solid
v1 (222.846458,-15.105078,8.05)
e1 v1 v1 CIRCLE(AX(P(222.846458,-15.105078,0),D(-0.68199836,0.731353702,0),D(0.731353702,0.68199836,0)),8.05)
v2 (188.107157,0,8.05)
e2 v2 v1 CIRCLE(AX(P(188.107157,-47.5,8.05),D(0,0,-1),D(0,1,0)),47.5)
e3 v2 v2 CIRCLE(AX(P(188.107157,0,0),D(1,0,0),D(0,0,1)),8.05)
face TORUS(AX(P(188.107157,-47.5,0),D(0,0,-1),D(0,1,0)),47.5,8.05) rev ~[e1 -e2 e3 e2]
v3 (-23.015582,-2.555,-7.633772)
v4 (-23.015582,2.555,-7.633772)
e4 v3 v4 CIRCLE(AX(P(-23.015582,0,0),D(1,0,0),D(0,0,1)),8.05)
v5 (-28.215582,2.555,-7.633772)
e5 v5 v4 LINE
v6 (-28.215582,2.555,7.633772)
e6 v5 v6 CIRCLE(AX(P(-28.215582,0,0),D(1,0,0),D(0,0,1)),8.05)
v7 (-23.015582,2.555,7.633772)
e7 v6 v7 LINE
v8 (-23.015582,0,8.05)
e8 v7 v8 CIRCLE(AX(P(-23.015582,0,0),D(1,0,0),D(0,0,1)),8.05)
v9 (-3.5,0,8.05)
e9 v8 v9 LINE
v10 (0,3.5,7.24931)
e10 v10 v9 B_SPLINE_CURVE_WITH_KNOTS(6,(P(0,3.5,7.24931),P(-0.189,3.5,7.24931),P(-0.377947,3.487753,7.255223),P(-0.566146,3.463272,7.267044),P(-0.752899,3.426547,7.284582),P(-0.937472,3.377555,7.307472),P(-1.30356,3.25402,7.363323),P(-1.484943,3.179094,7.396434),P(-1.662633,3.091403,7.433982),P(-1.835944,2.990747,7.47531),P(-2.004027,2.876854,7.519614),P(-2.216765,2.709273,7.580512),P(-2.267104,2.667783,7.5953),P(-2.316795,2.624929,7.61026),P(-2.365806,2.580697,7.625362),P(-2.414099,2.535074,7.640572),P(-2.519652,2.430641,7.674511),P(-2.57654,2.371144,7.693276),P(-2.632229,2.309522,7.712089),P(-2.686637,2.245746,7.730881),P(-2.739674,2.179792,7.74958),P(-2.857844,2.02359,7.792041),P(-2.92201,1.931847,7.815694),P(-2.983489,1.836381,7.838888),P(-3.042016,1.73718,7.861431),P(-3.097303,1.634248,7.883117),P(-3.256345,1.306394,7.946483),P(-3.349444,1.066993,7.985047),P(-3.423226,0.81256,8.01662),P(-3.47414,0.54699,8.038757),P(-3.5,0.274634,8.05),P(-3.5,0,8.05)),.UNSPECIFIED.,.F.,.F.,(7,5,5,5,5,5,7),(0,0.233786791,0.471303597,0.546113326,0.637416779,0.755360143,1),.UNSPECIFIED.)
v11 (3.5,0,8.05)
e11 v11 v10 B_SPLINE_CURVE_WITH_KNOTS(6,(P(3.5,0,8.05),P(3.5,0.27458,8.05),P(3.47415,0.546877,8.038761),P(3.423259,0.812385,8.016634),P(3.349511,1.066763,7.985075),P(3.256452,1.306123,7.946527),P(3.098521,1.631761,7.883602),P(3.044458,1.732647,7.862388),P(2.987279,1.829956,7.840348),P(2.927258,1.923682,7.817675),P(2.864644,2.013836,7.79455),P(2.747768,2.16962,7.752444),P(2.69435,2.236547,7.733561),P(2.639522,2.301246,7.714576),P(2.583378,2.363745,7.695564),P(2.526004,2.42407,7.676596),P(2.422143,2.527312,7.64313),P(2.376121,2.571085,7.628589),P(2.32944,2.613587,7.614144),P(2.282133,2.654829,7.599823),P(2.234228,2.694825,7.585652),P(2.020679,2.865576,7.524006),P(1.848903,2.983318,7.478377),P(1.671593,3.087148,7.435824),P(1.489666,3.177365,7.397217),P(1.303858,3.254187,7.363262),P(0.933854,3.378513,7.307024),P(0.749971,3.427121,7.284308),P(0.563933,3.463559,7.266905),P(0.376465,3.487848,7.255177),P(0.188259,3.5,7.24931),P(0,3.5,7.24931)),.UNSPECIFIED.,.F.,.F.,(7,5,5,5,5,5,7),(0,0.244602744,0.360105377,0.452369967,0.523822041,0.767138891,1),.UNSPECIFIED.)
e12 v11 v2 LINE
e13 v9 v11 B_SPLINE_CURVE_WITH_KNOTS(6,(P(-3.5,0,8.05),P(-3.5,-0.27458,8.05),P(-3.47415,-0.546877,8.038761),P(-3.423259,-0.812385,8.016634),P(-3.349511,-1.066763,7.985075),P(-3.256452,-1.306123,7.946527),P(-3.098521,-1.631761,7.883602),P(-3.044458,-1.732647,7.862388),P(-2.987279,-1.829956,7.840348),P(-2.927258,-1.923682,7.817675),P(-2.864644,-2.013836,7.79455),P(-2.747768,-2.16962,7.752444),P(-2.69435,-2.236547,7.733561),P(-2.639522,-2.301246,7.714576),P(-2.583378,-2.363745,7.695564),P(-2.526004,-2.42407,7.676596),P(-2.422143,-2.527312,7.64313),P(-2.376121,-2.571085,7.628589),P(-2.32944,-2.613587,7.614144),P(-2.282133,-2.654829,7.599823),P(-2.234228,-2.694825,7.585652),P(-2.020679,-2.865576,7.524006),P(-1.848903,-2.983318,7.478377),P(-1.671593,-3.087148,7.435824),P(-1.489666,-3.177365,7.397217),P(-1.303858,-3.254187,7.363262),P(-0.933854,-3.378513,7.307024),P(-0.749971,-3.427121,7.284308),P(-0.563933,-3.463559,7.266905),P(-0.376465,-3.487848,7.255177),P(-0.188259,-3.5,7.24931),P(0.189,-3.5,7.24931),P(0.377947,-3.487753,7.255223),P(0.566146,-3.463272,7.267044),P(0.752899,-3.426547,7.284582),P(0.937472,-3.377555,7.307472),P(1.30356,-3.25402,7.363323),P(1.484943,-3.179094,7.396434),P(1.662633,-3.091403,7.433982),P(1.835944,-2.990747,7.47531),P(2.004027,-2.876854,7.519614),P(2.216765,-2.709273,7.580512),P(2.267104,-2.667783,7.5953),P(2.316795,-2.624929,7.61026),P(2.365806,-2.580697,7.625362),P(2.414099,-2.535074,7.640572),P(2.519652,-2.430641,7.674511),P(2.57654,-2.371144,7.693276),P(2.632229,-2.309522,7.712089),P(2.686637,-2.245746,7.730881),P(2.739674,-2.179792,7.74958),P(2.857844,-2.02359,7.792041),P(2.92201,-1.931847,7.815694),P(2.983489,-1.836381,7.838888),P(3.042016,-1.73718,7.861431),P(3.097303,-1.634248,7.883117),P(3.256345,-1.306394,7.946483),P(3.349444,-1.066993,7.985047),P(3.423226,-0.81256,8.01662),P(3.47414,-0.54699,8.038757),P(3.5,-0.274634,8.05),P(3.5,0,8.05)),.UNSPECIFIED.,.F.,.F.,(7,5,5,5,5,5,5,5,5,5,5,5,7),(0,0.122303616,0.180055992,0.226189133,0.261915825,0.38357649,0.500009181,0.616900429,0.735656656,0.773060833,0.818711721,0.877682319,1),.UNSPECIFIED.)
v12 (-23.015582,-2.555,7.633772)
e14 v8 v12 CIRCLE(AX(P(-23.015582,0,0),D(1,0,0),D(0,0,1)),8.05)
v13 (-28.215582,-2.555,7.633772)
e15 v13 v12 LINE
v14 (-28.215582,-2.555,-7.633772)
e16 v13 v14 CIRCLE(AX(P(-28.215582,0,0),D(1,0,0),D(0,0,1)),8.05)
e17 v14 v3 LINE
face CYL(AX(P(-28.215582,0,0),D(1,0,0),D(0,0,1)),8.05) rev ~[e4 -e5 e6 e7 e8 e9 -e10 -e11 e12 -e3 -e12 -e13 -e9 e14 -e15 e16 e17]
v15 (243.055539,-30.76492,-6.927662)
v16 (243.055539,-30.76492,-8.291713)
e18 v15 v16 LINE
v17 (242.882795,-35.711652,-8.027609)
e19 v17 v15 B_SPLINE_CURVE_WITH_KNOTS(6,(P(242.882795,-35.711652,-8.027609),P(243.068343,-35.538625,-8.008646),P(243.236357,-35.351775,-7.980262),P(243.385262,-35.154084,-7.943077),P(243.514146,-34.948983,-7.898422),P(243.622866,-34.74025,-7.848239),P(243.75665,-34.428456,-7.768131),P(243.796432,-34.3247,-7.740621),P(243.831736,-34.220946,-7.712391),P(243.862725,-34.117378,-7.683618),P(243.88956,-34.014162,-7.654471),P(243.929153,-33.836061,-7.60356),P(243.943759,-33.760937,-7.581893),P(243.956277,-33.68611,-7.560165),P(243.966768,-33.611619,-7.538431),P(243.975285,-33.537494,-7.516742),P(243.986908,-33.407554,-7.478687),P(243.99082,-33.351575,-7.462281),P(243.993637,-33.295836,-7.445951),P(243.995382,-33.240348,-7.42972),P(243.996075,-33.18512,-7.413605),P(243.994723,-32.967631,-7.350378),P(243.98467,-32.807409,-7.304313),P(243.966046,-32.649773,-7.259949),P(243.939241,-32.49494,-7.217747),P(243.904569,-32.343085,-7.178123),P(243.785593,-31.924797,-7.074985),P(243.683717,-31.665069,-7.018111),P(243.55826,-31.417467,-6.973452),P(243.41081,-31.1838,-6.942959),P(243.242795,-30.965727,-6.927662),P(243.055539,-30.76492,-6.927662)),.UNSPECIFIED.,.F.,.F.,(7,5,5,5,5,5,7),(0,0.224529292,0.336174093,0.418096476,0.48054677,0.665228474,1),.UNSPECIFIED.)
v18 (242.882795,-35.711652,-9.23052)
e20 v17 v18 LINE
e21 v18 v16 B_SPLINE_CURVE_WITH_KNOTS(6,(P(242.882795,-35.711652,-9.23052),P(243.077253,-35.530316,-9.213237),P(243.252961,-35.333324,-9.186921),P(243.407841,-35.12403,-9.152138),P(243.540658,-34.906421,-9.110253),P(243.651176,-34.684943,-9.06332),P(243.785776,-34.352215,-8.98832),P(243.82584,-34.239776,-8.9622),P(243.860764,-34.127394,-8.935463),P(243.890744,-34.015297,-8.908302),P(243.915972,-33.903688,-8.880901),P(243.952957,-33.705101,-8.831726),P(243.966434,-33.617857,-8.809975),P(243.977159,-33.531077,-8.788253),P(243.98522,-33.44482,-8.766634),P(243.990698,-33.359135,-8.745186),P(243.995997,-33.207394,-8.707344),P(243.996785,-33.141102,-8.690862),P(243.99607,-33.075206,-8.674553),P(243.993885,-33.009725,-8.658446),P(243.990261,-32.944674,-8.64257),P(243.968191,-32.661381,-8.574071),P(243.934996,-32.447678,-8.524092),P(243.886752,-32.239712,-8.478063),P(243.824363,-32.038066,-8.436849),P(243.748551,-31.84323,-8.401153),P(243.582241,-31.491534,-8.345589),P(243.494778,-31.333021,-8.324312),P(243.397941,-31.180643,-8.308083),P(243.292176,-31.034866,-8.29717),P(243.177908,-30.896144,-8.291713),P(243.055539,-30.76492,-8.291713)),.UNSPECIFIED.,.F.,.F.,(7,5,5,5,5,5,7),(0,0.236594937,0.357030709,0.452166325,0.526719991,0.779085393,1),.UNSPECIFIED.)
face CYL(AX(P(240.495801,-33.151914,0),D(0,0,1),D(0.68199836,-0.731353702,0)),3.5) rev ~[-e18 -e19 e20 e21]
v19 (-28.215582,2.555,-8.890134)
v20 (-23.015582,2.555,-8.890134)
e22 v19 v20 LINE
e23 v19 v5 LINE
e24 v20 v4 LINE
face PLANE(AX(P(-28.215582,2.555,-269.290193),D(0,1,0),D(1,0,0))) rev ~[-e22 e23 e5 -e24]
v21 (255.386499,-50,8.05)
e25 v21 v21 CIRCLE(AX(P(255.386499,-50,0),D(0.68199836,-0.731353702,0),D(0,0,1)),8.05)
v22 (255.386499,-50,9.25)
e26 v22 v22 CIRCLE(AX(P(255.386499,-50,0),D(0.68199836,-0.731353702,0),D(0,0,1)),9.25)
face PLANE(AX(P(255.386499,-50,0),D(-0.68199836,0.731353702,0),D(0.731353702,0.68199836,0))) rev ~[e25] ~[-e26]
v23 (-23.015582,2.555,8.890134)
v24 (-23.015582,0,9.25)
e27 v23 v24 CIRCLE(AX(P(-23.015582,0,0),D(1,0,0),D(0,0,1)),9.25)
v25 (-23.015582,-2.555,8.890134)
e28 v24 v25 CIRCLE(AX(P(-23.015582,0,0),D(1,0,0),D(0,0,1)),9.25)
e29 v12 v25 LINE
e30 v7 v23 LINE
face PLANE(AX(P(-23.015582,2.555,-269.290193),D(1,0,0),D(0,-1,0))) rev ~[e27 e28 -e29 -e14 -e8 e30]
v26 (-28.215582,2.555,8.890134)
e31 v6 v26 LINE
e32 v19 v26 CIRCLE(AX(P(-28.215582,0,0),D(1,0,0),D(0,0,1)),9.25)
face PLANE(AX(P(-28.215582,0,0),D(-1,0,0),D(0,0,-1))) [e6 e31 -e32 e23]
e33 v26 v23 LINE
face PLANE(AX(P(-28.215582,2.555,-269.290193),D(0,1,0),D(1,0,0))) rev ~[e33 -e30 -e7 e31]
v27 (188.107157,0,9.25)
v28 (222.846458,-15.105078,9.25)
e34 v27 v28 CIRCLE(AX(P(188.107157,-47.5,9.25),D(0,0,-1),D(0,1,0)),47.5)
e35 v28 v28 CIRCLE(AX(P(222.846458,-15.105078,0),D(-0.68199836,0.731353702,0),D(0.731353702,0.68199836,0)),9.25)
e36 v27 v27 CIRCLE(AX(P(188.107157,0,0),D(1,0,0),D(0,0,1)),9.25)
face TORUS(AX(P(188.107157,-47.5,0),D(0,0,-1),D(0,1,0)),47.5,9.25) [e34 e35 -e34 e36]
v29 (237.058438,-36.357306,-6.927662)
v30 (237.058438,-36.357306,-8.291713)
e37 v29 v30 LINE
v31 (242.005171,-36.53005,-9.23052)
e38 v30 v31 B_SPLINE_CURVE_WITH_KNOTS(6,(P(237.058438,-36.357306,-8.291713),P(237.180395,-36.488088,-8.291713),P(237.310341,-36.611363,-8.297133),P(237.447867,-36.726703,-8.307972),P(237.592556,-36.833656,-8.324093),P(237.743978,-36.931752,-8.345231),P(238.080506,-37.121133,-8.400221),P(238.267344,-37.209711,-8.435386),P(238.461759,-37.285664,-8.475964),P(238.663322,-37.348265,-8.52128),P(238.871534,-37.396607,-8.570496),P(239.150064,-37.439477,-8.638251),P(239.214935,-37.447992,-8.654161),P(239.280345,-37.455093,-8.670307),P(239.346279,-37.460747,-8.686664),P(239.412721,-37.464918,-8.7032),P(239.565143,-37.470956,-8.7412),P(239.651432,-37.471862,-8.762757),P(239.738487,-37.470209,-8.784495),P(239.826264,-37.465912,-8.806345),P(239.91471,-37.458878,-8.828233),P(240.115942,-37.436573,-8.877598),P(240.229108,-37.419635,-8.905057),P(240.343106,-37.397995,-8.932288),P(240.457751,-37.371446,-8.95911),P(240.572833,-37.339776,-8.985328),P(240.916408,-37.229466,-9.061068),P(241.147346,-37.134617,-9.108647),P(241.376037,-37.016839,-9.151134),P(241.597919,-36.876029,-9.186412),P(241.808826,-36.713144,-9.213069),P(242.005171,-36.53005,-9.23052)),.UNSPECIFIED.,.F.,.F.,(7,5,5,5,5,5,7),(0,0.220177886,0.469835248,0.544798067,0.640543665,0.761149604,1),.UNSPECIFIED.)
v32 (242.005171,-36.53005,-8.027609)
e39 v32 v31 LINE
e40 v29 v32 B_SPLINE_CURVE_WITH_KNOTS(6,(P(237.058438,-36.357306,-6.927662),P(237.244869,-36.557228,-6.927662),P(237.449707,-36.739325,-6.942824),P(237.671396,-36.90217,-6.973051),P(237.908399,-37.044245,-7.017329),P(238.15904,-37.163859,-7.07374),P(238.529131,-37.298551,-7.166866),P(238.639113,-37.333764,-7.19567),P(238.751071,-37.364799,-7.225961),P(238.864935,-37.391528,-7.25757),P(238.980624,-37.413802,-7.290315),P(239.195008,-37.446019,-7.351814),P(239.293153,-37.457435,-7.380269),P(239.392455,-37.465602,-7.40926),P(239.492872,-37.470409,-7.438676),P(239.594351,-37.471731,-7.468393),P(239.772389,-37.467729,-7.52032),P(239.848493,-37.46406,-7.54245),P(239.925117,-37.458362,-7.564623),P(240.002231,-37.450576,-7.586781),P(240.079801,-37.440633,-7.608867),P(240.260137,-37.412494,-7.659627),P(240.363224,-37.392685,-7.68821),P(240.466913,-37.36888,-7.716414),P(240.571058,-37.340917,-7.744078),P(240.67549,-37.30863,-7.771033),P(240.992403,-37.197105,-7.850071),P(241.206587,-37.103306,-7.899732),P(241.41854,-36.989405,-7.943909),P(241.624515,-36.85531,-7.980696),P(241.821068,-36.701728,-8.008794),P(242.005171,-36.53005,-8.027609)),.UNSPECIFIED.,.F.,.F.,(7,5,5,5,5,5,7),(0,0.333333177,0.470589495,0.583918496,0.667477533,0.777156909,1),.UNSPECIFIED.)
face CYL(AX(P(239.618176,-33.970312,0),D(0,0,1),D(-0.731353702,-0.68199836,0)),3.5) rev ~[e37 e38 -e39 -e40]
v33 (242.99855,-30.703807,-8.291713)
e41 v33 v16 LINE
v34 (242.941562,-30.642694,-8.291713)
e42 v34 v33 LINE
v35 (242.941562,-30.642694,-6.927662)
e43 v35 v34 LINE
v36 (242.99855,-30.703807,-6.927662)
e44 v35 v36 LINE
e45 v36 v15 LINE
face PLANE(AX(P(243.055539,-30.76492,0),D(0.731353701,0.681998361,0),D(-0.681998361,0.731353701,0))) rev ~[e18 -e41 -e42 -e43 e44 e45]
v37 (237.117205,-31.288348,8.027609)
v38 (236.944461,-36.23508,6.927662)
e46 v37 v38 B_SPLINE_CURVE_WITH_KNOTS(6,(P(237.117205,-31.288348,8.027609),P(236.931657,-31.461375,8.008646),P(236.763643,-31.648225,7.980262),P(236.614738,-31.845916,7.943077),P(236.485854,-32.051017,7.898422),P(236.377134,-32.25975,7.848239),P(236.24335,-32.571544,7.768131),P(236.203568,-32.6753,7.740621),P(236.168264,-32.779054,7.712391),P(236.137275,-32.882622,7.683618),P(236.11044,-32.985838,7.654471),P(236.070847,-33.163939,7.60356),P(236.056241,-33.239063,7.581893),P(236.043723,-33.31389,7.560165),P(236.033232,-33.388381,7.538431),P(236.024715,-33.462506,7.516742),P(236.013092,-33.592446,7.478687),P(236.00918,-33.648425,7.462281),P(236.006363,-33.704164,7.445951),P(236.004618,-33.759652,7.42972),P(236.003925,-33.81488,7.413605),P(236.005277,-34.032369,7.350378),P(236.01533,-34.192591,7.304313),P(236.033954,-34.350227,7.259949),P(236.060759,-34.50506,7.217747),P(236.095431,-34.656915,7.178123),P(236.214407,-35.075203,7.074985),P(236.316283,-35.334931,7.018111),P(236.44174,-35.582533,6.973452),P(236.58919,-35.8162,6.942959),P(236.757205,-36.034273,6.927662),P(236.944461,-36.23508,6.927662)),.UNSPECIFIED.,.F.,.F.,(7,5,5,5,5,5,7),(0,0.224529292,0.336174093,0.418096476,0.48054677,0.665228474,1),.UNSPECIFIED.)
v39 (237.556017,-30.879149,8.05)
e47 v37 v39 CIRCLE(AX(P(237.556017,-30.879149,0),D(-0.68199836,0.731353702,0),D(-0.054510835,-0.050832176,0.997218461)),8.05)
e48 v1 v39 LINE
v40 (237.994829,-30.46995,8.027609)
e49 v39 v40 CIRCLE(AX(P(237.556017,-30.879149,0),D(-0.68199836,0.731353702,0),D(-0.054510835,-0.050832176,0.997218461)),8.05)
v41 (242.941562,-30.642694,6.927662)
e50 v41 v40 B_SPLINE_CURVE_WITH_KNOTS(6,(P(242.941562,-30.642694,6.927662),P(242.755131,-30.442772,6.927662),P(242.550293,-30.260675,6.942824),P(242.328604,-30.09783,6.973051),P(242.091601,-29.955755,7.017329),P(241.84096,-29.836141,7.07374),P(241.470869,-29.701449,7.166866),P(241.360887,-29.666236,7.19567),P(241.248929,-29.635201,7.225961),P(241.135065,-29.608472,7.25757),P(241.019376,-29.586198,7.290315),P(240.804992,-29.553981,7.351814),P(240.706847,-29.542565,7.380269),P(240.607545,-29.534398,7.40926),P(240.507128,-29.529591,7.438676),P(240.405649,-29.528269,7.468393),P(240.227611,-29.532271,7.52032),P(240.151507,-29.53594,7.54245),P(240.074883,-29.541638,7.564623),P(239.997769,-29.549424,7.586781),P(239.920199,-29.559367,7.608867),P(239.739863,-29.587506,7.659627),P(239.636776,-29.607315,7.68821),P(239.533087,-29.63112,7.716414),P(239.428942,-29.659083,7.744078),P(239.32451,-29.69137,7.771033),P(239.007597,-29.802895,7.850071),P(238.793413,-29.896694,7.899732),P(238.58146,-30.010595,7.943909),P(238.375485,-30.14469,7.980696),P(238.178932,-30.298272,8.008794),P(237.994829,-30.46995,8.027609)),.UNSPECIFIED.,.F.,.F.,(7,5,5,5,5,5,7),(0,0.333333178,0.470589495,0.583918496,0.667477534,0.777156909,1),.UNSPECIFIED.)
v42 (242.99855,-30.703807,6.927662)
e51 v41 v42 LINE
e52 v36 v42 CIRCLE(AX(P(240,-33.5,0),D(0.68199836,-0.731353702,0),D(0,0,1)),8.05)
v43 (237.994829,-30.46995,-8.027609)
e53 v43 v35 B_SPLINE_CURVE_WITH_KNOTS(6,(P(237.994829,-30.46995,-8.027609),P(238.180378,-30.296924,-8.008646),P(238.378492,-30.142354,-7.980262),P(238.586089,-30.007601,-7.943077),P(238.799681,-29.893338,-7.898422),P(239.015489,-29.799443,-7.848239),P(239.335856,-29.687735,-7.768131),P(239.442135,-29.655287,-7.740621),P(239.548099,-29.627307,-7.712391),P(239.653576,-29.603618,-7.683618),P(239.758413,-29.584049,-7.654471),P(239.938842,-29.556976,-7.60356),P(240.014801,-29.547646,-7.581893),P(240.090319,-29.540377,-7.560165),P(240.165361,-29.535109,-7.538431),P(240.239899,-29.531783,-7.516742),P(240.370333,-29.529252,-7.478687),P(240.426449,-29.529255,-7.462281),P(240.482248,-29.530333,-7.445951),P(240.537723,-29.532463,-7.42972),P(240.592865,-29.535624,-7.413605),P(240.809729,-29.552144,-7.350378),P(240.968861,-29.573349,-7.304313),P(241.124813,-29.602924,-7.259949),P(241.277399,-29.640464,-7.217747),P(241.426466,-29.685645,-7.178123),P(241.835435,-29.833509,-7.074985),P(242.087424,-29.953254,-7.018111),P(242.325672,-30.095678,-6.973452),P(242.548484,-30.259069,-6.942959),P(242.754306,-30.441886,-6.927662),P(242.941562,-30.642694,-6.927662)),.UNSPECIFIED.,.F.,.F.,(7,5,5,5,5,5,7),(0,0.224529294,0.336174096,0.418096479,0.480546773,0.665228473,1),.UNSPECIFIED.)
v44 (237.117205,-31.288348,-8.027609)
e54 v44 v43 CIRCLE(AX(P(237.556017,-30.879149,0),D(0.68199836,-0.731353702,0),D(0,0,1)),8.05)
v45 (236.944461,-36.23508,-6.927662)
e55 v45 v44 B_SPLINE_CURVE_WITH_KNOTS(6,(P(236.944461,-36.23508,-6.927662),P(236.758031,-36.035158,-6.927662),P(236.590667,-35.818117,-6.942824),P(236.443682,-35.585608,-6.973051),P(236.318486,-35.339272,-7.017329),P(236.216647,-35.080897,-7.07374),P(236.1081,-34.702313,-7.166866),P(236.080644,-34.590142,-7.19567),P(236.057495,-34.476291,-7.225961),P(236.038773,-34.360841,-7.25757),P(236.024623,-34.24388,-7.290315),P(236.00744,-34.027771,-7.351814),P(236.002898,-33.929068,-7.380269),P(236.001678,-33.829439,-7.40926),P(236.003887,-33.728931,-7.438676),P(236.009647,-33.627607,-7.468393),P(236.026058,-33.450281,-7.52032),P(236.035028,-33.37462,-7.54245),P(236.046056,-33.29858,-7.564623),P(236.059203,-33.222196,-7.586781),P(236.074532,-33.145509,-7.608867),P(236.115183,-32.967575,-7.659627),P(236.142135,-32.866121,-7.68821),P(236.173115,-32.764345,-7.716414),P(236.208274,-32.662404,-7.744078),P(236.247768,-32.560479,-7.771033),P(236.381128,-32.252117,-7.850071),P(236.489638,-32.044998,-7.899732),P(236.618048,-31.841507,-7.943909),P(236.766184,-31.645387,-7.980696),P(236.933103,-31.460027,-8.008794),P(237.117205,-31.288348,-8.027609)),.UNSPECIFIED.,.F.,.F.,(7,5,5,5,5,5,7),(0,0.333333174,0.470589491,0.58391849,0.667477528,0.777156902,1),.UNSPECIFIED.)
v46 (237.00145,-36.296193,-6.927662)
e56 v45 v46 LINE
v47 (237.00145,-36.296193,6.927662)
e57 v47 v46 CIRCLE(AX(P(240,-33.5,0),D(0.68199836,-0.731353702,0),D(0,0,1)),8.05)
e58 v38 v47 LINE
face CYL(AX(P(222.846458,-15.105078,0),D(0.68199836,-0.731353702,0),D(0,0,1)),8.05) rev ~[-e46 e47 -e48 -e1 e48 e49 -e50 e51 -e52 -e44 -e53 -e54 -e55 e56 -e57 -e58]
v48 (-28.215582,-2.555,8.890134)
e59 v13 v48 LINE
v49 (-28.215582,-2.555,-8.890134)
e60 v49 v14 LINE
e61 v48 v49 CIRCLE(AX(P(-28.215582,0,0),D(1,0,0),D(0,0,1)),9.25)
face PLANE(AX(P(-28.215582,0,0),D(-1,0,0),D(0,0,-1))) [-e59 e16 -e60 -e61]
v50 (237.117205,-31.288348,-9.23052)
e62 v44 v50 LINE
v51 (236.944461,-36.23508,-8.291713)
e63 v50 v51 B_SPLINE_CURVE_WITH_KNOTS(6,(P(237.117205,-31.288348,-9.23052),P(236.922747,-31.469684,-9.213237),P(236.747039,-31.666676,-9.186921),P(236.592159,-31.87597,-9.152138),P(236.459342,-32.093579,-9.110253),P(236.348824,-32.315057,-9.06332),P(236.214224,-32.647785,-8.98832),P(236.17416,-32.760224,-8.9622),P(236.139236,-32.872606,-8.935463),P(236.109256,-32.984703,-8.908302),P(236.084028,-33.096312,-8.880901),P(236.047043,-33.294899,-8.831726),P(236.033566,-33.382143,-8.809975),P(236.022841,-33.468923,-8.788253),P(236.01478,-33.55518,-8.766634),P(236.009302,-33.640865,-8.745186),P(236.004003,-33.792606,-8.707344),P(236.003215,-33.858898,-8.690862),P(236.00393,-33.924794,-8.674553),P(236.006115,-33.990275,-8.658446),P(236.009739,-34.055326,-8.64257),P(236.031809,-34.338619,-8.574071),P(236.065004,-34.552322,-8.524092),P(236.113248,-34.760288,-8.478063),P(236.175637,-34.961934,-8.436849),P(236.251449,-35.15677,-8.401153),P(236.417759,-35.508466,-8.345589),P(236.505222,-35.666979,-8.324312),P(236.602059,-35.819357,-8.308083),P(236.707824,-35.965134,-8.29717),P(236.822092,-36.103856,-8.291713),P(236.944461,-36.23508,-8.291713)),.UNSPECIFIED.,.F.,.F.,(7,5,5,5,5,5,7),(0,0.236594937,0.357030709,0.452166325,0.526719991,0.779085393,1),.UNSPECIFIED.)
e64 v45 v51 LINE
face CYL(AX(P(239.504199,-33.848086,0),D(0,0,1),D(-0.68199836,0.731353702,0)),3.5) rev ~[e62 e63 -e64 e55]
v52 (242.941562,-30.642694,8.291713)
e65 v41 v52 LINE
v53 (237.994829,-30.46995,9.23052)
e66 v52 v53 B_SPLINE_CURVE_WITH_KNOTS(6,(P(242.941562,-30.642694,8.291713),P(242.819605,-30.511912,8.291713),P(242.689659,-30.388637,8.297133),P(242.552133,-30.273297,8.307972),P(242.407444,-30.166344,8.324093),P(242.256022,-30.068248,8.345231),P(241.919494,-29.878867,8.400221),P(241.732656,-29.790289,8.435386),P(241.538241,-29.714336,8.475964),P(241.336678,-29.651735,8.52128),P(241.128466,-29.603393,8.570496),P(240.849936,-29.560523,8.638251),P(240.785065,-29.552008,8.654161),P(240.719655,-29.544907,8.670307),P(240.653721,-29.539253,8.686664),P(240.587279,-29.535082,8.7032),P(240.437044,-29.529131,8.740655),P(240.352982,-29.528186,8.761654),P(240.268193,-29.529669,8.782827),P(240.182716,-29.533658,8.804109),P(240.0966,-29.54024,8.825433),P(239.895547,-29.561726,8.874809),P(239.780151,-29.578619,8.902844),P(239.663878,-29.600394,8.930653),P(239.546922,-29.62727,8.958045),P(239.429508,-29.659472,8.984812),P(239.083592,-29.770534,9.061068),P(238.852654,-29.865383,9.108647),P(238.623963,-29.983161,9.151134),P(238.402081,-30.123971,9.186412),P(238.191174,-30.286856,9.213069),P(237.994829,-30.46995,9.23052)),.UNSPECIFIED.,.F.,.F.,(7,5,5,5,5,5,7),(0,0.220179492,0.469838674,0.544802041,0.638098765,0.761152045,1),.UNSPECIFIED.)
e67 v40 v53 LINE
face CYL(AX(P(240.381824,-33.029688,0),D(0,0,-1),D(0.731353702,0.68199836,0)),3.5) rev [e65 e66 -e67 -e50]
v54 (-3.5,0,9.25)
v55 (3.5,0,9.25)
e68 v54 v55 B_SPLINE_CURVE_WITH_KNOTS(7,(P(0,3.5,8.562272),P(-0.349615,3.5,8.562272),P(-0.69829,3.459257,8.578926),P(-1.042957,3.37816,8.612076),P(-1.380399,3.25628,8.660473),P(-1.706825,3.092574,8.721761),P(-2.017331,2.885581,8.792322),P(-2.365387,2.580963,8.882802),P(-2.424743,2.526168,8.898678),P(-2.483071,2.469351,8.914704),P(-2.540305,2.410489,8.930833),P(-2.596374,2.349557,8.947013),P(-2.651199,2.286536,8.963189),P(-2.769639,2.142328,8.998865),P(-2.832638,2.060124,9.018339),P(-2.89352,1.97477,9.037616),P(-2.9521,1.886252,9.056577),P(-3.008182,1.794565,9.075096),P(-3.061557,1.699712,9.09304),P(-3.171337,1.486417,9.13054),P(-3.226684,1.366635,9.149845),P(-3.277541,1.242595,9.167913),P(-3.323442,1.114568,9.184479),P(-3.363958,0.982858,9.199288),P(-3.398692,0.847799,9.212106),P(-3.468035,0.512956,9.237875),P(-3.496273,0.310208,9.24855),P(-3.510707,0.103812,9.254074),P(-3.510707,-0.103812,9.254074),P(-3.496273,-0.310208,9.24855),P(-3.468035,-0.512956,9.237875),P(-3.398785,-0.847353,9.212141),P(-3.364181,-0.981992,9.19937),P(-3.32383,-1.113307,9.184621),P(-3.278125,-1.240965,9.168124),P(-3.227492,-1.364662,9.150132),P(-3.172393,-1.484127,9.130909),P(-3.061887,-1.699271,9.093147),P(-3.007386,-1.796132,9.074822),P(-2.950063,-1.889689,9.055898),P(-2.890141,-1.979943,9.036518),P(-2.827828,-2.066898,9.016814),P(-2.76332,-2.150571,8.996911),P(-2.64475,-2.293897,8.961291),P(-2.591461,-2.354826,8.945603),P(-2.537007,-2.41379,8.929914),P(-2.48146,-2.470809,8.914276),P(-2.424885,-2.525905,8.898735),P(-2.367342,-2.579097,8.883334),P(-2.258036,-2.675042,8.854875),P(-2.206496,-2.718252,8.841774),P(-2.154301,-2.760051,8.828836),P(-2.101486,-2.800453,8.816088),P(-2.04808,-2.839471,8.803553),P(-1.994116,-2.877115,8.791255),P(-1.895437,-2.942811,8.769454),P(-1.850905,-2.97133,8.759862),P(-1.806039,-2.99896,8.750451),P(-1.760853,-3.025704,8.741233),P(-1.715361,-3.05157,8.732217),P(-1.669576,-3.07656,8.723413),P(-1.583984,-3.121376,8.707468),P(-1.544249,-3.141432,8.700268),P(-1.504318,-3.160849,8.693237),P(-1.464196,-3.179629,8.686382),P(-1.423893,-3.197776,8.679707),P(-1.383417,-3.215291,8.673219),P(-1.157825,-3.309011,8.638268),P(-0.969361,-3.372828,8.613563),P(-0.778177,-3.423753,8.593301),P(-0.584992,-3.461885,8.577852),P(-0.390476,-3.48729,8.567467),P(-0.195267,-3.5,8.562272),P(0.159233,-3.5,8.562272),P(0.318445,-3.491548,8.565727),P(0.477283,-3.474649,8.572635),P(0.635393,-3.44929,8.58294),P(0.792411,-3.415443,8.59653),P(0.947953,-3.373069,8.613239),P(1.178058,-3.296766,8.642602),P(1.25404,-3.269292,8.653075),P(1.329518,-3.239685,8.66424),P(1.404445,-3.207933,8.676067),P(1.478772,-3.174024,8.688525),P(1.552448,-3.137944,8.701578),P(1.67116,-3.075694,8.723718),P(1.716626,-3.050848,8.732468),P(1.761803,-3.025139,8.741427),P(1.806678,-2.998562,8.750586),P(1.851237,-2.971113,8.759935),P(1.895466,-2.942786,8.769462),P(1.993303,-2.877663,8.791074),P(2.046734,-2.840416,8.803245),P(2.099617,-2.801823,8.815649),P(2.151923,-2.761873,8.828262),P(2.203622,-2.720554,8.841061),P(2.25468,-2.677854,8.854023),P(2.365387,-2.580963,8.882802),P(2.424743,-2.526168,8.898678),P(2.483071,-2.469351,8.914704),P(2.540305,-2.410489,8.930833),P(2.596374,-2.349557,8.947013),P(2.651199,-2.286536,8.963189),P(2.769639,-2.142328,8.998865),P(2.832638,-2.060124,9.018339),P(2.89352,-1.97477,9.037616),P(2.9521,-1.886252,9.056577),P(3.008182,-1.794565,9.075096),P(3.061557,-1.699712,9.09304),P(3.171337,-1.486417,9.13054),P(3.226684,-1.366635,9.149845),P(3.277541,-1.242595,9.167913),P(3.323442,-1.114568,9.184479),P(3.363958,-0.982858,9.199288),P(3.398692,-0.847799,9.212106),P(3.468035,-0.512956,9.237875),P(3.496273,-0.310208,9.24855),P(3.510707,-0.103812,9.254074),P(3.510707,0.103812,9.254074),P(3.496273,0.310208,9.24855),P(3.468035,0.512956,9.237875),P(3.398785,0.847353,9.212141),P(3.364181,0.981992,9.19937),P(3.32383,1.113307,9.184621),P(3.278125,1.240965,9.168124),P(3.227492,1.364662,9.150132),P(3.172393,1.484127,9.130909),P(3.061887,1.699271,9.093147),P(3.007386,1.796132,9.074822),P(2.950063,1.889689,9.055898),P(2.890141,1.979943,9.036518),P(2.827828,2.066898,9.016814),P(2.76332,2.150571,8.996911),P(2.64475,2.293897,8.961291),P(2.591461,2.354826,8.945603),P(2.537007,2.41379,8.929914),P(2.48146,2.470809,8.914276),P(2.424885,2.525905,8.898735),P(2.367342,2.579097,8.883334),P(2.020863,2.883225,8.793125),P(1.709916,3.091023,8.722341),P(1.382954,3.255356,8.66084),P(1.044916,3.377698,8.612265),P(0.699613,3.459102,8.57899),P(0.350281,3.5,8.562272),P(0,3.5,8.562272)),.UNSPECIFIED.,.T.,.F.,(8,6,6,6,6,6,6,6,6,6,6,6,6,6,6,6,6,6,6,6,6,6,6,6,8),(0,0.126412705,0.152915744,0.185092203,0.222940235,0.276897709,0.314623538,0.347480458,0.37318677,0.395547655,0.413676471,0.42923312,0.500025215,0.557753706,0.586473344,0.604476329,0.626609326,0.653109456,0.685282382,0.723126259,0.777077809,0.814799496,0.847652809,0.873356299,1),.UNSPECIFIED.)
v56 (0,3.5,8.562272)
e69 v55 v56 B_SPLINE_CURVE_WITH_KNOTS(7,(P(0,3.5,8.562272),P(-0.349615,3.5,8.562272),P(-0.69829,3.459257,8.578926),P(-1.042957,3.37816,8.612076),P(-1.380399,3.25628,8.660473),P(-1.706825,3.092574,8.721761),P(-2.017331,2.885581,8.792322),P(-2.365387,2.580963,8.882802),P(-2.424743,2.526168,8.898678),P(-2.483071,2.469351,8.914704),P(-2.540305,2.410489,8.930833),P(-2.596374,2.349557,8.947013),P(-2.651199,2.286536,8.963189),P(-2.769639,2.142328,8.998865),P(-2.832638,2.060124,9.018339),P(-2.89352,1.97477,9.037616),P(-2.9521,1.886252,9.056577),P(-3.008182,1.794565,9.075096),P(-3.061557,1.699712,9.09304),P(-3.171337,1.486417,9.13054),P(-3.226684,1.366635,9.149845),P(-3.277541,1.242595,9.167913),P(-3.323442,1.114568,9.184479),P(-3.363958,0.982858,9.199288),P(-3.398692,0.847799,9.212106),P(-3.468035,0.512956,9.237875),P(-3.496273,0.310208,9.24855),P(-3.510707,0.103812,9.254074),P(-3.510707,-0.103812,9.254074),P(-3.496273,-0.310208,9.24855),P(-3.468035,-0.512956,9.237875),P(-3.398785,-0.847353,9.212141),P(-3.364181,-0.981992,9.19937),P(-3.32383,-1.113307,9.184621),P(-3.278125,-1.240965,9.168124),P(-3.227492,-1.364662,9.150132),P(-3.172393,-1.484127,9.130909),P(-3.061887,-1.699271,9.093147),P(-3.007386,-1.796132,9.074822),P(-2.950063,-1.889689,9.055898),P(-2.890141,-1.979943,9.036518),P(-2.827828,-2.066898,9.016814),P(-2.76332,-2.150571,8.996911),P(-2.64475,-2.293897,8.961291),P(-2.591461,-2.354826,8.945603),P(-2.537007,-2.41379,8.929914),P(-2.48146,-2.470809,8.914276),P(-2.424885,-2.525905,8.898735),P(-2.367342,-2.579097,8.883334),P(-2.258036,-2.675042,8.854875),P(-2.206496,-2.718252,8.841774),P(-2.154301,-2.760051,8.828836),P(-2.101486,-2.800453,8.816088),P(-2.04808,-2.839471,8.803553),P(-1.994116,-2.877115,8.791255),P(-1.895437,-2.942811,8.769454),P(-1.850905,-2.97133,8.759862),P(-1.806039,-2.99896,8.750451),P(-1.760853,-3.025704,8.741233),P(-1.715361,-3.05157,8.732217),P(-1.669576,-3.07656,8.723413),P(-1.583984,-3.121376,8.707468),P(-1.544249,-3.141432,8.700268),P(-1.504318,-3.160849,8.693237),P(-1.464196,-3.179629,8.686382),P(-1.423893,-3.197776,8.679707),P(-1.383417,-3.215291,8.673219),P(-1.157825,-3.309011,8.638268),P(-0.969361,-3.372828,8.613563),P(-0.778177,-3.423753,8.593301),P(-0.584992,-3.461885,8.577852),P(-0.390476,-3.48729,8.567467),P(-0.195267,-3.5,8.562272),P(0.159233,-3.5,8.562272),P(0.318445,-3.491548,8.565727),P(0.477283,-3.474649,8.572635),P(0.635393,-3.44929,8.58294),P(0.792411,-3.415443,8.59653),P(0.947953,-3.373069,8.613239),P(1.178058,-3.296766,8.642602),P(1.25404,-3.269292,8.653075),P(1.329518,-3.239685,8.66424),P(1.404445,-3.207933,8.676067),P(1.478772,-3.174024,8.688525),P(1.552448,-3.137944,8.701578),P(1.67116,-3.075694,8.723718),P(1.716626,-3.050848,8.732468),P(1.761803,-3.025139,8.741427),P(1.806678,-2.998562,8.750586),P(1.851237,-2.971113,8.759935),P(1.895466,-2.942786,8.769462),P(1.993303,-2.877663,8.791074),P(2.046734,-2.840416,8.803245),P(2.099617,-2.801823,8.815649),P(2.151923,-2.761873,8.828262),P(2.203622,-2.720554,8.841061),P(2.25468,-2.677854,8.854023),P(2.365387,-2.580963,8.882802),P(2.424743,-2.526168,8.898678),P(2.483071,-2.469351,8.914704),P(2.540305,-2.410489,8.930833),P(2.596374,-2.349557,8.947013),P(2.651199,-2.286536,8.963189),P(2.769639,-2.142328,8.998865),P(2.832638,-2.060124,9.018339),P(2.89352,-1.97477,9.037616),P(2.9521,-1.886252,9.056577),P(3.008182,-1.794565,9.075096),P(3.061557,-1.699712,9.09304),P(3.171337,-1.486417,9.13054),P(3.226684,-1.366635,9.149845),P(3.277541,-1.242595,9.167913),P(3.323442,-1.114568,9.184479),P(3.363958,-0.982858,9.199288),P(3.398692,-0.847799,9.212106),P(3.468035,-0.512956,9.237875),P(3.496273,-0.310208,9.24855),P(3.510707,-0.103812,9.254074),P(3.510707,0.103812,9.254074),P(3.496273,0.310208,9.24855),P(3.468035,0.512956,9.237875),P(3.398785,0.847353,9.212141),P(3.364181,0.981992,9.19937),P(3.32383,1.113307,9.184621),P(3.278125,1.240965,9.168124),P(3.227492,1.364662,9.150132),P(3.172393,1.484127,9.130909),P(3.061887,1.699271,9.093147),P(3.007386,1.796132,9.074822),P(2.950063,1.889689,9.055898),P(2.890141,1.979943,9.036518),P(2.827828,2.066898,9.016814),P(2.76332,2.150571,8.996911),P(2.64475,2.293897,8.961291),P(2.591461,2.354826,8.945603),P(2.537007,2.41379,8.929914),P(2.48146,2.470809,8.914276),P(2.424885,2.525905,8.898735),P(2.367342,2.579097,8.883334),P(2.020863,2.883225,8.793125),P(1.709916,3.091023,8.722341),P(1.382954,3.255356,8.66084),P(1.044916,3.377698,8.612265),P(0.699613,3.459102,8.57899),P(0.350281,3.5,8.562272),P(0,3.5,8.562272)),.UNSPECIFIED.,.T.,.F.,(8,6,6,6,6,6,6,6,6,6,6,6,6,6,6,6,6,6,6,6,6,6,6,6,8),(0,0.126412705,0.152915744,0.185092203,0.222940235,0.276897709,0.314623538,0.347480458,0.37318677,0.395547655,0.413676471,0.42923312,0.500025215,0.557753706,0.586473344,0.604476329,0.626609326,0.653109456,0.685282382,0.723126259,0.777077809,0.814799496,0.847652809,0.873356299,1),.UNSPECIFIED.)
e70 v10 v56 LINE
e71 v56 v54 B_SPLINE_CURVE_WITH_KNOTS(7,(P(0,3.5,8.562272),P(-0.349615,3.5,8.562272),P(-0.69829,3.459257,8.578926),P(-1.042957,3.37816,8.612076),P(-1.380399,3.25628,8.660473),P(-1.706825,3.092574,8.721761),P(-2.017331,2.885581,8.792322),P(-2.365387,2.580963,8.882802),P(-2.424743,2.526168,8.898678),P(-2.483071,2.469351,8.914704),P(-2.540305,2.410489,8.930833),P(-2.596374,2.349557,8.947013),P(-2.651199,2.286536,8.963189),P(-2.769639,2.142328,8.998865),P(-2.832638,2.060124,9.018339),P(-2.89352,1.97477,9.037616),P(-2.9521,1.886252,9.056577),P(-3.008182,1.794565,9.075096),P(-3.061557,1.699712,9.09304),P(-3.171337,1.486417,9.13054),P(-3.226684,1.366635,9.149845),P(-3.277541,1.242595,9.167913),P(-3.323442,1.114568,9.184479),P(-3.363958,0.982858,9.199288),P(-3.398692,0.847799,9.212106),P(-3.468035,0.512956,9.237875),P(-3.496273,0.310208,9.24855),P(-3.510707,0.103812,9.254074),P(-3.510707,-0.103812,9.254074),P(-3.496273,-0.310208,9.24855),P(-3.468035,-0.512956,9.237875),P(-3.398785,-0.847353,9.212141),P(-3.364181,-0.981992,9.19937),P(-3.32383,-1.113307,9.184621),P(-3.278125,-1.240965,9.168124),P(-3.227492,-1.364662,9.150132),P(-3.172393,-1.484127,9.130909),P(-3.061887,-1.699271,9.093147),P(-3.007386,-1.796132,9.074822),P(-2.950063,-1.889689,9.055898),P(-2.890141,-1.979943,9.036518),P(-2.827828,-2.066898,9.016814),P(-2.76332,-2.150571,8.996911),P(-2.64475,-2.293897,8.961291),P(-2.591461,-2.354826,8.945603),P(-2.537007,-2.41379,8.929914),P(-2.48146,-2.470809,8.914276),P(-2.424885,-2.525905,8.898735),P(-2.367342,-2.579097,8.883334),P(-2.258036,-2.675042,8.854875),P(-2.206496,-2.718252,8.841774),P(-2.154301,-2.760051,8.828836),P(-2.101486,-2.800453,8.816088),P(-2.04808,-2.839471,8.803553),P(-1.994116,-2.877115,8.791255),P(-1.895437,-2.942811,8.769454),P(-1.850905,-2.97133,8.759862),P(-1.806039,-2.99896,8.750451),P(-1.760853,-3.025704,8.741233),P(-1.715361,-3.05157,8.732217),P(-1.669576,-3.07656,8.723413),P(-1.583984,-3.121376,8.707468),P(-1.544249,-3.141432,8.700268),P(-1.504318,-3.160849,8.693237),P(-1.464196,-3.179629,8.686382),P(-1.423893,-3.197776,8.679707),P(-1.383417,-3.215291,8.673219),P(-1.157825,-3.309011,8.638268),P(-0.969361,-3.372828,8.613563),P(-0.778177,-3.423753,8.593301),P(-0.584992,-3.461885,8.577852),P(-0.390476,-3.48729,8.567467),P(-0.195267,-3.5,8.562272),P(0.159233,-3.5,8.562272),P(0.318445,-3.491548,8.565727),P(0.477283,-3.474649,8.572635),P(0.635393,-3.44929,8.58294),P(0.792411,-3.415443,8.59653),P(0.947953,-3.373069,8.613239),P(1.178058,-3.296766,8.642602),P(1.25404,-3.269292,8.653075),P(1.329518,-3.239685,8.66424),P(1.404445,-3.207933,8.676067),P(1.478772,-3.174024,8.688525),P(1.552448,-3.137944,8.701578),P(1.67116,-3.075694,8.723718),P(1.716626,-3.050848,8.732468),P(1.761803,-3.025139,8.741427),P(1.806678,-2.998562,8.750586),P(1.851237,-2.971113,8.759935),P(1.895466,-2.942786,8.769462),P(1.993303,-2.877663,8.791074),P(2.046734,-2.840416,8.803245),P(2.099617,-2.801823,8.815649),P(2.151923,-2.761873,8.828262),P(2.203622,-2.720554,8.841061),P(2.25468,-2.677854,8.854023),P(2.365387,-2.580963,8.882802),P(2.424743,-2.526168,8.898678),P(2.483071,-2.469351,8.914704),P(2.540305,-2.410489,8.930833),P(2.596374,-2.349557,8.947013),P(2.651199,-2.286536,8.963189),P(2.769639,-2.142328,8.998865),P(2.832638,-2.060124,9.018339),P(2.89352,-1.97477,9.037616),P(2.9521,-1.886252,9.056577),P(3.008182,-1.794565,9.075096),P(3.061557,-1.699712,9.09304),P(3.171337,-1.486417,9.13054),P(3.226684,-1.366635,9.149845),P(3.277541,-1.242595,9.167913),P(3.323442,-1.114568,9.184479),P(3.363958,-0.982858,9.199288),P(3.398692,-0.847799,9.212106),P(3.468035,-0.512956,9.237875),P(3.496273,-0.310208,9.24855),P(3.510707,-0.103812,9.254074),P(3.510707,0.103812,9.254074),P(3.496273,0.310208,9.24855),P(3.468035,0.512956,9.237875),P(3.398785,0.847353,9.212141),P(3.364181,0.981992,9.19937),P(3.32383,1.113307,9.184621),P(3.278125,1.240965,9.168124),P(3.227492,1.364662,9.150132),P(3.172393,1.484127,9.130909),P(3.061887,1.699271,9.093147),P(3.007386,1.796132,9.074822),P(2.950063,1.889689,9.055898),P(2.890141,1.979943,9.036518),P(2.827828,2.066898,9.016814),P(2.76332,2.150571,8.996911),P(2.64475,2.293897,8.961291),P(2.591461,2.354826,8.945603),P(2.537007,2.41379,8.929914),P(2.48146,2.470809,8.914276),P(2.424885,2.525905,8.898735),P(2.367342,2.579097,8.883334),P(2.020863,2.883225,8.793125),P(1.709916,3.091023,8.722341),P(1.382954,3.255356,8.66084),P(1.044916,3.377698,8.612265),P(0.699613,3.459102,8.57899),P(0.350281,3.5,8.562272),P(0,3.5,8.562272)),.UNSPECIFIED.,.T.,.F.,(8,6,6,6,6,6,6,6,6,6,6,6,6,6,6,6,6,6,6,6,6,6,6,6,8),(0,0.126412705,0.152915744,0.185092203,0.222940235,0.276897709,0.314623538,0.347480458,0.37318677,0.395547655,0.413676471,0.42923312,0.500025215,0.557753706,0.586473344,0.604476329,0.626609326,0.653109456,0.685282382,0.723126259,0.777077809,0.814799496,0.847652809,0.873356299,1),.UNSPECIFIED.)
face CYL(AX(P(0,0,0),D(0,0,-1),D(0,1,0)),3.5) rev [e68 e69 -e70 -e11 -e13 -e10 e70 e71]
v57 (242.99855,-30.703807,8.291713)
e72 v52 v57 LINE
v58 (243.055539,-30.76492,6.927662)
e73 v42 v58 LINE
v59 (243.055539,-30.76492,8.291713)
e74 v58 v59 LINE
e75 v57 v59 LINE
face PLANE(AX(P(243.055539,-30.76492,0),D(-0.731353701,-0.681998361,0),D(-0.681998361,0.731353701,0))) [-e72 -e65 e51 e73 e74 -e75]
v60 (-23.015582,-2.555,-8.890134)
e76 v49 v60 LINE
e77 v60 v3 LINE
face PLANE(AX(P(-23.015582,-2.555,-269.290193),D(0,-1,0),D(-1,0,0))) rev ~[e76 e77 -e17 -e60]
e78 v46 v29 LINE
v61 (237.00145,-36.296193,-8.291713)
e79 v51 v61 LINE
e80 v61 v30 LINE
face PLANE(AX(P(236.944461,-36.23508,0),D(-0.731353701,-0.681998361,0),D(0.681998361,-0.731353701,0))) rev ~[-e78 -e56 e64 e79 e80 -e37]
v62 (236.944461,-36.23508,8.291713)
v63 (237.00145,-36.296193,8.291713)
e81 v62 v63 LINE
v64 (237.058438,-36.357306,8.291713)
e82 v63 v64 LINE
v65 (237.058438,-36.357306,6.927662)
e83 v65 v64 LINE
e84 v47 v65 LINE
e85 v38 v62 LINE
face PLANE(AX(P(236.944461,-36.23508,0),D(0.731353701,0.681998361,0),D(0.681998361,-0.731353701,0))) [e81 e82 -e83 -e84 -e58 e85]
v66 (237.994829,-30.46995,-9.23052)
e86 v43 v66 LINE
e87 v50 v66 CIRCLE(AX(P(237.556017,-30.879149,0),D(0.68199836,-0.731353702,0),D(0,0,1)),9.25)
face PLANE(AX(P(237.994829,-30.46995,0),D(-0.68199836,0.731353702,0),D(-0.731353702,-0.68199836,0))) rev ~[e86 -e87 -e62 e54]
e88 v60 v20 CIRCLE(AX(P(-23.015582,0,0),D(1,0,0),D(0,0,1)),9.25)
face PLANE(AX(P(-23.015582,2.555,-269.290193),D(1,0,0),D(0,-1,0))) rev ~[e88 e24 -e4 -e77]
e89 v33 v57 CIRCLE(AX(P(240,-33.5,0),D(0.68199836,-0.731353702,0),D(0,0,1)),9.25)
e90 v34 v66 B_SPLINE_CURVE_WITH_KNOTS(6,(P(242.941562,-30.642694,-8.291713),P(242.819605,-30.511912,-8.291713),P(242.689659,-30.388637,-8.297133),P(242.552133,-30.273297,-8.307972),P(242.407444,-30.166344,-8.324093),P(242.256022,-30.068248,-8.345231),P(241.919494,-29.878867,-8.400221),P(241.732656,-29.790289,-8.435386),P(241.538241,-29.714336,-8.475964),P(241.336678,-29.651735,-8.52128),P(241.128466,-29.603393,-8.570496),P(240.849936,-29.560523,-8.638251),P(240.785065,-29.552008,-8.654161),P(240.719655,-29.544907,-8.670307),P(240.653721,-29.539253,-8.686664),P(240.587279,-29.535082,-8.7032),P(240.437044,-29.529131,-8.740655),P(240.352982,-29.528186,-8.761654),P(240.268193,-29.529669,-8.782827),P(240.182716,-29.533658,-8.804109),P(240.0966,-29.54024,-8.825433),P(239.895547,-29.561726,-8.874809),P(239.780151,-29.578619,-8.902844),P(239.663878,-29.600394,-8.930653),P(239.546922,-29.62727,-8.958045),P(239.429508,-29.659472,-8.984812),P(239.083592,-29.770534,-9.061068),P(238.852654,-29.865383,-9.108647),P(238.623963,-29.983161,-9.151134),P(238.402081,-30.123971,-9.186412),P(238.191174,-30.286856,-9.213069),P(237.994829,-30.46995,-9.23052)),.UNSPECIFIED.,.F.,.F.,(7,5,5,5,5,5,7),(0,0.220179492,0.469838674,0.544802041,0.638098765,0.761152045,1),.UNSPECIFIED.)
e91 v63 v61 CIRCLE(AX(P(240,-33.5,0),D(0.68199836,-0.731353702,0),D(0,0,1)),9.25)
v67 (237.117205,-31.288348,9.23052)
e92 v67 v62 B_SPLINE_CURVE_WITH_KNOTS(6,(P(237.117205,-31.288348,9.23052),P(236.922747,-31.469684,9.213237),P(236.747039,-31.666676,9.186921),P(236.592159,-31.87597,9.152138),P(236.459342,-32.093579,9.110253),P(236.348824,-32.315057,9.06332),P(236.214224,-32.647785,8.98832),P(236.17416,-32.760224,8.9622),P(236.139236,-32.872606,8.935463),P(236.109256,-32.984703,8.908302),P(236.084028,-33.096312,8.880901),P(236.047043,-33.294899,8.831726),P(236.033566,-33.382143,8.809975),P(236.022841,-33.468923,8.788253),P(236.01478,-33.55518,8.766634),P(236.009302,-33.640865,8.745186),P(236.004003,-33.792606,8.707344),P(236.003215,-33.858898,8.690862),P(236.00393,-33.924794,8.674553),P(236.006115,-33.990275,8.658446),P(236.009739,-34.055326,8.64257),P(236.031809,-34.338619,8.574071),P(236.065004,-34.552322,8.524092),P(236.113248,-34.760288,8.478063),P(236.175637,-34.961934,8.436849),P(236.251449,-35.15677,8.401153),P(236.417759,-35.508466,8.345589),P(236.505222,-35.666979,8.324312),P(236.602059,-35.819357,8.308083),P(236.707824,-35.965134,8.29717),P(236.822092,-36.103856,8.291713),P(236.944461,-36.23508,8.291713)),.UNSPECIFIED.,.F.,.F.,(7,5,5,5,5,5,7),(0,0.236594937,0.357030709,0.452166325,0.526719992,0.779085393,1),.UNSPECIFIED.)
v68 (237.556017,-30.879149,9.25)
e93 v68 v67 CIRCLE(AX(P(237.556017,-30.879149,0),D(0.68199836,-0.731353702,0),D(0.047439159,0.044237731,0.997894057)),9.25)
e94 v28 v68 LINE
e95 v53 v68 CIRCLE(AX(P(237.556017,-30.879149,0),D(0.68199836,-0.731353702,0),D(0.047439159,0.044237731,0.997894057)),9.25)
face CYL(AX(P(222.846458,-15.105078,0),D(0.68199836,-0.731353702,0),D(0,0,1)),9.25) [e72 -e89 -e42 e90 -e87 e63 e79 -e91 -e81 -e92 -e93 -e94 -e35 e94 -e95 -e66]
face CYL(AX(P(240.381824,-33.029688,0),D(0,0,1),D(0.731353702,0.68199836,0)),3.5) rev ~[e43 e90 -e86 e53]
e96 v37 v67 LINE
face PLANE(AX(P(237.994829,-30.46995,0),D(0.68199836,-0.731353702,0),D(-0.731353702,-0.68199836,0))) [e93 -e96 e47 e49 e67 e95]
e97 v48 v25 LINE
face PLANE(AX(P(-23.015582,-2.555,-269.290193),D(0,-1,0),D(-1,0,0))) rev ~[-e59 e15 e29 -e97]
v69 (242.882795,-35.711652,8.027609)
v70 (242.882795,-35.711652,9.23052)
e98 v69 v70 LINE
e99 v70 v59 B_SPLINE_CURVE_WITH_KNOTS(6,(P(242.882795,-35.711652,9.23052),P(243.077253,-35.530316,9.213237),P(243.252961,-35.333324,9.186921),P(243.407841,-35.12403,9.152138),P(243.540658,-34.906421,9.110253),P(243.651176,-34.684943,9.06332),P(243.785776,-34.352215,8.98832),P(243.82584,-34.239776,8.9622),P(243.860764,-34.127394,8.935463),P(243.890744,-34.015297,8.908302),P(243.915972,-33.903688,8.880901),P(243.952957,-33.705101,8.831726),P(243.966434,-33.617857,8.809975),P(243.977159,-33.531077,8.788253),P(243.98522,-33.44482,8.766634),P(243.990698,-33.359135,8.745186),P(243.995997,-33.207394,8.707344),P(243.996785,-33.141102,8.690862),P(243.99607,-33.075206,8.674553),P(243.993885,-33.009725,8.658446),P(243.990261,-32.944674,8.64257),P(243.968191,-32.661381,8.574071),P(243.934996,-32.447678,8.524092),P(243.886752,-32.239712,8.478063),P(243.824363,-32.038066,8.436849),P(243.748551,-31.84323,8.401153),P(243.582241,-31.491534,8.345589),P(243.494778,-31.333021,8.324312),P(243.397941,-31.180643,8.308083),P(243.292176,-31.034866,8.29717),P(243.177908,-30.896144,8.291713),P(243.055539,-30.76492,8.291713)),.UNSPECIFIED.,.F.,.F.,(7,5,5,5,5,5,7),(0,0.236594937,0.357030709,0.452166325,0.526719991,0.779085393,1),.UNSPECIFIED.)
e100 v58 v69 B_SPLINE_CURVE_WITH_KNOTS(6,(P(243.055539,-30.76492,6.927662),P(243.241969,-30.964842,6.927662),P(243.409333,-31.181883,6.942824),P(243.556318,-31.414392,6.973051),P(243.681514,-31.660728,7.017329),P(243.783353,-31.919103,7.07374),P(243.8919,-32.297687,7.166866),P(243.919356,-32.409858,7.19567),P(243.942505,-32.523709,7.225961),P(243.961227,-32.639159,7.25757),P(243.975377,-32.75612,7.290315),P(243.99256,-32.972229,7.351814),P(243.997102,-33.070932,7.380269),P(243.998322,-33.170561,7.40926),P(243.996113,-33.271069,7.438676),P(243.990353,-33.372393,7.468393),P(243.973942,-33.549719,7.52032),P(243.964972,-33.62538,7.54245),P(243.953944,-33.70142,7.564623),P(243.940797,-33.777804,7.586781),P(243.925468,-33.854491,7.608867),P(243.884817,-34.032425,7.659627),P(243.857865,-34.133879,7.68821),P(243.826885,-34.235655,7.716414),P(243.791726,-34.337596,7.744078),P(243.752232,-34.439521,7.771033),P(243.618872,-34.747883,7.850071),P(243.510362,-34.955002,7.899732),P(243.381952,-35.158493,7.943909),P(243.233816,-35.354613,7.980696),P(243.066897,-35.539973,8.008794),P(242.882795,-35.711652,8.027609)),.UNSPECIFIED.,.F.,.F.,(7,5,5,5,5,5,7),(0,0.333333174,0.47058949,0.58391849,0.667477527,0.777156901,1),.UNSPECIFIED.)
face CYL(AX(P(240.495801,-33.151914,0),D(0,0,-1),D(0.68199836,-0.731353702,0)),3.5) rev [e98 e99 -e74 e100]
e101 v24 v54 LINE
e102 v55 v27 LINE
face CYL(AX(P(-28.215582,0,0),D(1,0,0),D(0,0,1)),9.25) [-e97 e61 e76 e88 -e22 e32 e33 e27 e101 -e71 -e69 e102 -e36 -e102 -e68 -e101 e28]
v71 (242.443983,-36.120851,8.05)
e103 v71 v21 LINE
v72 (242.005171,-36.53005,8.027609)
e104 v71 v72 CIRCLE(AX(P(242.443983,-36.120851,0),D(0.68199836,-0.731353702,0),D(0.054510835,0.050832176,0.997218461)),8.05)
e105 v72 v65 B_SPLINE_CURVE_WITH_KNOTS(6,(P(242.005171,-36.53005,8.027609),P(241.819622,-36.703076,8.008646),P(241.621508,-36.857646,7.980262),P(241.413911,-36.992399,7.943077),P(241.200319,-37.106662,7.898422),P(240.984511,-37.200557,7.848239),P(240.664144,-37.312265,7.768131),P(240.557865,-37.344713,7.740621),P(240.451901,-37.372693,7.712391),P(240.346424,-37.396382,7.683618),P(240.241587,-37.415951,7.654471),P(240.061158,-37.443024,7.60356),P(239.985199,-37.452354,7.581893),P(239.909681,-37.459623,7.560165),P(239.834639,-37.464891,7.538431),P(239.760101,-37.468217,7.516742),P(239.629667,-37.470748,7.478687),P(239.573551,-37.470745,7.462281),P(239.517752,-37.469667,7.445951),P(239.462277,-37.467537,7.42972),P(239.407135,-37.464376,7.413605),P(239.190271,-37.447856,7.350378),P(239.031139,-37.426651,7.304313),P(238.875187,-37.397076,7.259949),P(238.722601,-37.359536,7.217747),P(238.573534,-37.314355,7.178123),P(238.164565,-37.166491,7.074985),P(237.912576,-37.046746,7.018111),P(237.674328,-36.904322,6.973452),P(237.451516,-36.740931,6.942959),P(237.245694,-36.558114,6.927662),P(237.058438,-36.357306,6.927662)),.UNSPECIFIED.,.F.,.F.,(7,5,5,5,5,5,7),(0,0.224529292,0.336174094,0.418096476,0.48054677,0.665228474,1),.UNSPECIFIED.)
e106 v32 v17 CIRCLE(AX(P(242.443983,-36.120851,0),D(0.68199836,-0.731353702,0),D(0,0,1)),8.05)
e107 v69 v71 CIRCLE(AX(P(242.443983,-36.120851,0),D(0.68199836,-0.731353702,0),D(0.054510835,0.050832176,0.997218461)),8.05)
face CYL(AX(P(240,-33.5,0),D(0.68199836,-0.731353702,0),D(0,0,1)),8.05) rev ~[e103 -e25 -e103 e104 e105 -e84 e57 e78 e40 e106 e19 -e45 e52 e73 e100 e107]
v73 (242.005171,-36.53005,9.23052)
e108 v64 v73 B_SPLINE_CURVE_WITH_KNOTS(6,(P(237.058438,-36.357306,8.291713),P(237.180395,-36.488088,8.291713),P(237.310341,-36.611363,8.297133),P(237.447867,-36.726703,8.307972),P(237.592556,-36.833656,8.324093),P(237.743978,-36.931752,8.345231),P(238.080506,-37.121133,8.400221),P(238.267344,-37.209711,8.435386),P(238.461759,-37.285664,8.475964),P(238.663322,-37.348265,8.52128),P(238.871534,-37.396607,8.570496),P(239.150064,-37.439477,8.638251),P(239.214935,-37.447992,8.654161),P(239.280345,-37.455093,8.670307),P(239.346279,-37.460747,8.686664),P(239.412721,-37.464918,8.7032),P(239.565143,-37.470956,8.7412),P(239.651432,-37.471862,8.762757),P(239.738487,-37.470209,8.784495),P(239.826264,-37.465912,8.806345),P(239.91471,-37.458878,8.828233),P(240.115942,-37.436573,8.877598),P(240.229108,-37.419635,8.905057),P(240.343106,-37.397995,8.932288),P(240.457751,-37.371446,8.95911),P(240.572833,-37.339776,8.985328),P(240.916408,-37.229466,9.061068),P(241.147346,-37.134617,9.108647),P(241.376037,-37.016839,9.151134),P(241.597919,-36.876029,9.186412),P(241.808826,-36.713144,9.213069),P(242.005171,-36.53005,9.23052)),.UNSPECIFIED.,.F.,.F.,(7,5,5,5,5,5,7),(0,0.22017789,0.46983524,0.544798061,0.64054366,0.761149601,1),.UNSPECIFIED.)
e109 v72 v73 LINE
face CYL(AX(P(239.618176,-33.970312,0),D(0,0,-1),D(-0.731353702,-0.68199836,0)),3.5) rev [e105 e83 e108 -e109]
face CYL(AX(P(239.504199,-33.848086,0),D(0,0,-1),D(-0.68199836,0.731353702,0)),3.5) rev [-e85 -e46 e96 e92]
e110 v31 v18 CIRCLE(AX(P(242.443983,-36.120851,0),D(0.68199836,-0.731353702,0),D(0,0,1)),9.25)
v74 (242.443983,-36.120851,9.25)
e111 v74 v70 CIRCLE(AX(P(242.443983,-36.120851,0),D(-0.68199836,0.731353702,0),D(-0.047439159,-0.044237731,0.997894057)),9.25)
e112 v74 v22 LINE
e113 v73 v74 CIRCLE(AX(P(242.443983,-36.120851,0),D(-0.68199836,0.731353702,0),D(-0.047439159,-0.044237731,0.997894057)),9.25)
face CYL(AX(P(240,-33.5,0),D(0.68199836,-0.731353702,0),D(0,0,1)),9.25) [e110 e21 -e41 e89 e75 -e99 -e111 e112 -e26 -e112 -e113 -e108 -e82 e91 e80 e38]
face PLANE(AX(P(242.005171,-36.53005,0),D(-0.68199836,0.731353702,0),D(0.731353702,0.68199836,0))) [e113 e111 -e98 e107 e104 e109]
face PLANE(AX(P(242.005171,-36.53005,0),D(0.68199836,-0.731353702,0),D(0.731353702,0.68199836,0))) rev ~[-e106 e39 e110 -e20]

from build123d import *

# Parameters (mm, degrees)
SKETCH2_R                      = 9.25
SKETCH2_R_2                    = 8.05
CUT_EXTRUDE1_REACH             = 270.29
CUT_EXTRUDE1_DIRECTION_2_REACH = 270.29
CUT_EXTRUDE2_REACH             = 270.29
CUT_EXTRUDE2_END_RADIUS        = 9.25
SKETCH4_R                      = 3.5
CUT_EXTRUDE3_DEPTH             = 269.290193288
CUT_EXTRUDE3_DEPTH_BACK        = 269.290193288


with BuildPart() as part:
    # Sweep1: sweep along a path in Sketch1
    with BuildLine(Plane.XY) as sweep1_path:
        Line((-28.215582401, 0), (0, 0))
        Line((0, 0), (188.107156804, 0))
        ThreePointArc((188.107156804, 0), (207.047737578, -3.939646467), (222.846457631, -15.105077897))
        Line((222.846457631, -15.105077897), (240, -33.5))
        Line((240, -33.5), (255.386498921, -50))
    # Sketch2 → Sweep1 (sweep)
    with BuildSketch(Plane.ZY.offset(28.215582401)):
        Circle(SKETCH2_R)
        Circle(SKETCH2_R_2, mode=Mode.SUBTRACT)
    sweep(path=sweep1_path.line)

    # Sketch3 → Cut-Extrude1 (cut, up to next)
    with BuildSketch(Plane.XY, mode=Mode.PRIVATE) as cut_extrude1_sk1:
        with BuildLine():
            Line((243.055538772, -30.76491951), (242.941561581, -30.642693937))
            ThreePointArc((242.941561581, -30.642693937), (240.503971864, -29.531820303), (237.994829366, -30.469950242))
            Line((237.994829366, -30.469950242), (237.117204924, -31.288348274))
            ThreePointArc((237.117204924, -31.288348274), (236.006331289, -33.725937991), (236.944461228, -36.23508049))
            Line((236.944461228, -36.23508049), (237.058438419, -36.357306063))
            ThreePointArc((237.058438419, -36.357306063), (239.496028136, -37.468179697), (242.005170634, -36.530049758))
            Line((242.005170634, -36.530049758), (242.882795076, -35.711651726))
            ThreePointArc((242.882795076, -35.711651726), (243.993668711, -33.274062009), (243.055538772, -30.76491951))
        make_face()
    cut_extrude1_tool1 = extrude(cut_extrude1_sk1.sketch, amount=-CUT_EXTRUDE1_REACH, mode=Mode.PRIVATE) & part.part
    add(cut_extrude1_tool1.solids().sort_by_distance((240, -33.5, 0))[0], mode=Mode.SUBTRACT)

    # Sketch3 → Cut-Extrude1 direction 2 (cut, up to next)
    with BuildSketch(Plane.XY, mode=Mode.PRIVATE) as cut_extrude1_direction_2_sk1:
        with BuildLine():
            Line((243.055538772, -30.76491951), (242.941561581, -30.642693937))
            ThreePointArc((242.941561581, -30.642693937), (240.503971864, -29.531820303), (237.994829366, -30.469950242))
            Line((237.994829366, -30.469950242), (237.117204924, -31.288348274))
            ThreePointArc((237.117204924, -31.288348274), (236.006331289, -33.725937991), (236.944461228, -36.23508049))
            Line((236.944461228, -36.23508049), (237.058438419, -36.357306063))
            ThreePointArc((237.058438419, -36.357306063), (239.496028136, -37.468179697), (242.005170634, -36.530049758))
            Line((242.005170634, -36.530049758), (242.882795076, -35.711651726))
            ThreePointArc((242.882795076, -35.711651726), (243.993668711, -33.274062009), (243.055538772, -30.76491951))
        make_face()
    cut_extrude1_direction_2_tool1 = extrude(cut_extrude1_direction_2_sk1.sketch, amount=CUT_EXTRUDE1_DIRECTION_2_REACH, mode=Mode.PRIVATE) & part.part
    add(cut_extrude1_direction_2_tool1.solids().sort_by_distance((240, -33.5, 0))[0], mode=Mode.SUBTRACT)

    # Cut-Extrude2: up to this cylinder (the profile starts inside it)
    cut_extrude2_end = Plane(origin=(0, 0, 0), z_dir=(-1, 0, 0)) * Cylinder(CUT_EXTRUDE2_END_RADIUS, 560.08, mode=Mode.PRIVATE)
    # Sketch4 → Cut-Extrude2 (cut, up to the surface)
    with BuildSketch(Plane.XY, mode=Mode.PRIVATE) as cut_extrude2_sk1:
        with Locations(Location((0, 0, 0), (0, 0, 90))):
            Circle(SKETCH4_R)
    cut_extrude2_tool1 = extrude(cut_extrude2_sk1.sketch, amount=CUT_EXTRUDE2_REACH, mode=Mode.PRIVATE) & cut_extrude2_end
    add(cut_extrude2_tool1.solids().sort_by_distance((0, 0, 0))[0], mode=Mode.SUBTRACT)

    # Sketch5 → Cut-Extrude3 (cut, two sides: drawn at the far end of the back side and taken through both)
    with BuildSketch(Plane.XY.offset(-CUT_EXTRUDE3_DEPTH_BACK)):
        Polygon((-28.215582401, 0), (-28.215582401, 2.555), (-23.015582401, 2.555), (-23.015582401, -2.555), (-28.215582401, -2.555), align=None)
    extrude(amount=CUT_EXTRUDE3_DEPTH + CUT_EXTRUDE3_DEPTH_BACK, mode=Mode.SUBTRACT)


solid = part.part
